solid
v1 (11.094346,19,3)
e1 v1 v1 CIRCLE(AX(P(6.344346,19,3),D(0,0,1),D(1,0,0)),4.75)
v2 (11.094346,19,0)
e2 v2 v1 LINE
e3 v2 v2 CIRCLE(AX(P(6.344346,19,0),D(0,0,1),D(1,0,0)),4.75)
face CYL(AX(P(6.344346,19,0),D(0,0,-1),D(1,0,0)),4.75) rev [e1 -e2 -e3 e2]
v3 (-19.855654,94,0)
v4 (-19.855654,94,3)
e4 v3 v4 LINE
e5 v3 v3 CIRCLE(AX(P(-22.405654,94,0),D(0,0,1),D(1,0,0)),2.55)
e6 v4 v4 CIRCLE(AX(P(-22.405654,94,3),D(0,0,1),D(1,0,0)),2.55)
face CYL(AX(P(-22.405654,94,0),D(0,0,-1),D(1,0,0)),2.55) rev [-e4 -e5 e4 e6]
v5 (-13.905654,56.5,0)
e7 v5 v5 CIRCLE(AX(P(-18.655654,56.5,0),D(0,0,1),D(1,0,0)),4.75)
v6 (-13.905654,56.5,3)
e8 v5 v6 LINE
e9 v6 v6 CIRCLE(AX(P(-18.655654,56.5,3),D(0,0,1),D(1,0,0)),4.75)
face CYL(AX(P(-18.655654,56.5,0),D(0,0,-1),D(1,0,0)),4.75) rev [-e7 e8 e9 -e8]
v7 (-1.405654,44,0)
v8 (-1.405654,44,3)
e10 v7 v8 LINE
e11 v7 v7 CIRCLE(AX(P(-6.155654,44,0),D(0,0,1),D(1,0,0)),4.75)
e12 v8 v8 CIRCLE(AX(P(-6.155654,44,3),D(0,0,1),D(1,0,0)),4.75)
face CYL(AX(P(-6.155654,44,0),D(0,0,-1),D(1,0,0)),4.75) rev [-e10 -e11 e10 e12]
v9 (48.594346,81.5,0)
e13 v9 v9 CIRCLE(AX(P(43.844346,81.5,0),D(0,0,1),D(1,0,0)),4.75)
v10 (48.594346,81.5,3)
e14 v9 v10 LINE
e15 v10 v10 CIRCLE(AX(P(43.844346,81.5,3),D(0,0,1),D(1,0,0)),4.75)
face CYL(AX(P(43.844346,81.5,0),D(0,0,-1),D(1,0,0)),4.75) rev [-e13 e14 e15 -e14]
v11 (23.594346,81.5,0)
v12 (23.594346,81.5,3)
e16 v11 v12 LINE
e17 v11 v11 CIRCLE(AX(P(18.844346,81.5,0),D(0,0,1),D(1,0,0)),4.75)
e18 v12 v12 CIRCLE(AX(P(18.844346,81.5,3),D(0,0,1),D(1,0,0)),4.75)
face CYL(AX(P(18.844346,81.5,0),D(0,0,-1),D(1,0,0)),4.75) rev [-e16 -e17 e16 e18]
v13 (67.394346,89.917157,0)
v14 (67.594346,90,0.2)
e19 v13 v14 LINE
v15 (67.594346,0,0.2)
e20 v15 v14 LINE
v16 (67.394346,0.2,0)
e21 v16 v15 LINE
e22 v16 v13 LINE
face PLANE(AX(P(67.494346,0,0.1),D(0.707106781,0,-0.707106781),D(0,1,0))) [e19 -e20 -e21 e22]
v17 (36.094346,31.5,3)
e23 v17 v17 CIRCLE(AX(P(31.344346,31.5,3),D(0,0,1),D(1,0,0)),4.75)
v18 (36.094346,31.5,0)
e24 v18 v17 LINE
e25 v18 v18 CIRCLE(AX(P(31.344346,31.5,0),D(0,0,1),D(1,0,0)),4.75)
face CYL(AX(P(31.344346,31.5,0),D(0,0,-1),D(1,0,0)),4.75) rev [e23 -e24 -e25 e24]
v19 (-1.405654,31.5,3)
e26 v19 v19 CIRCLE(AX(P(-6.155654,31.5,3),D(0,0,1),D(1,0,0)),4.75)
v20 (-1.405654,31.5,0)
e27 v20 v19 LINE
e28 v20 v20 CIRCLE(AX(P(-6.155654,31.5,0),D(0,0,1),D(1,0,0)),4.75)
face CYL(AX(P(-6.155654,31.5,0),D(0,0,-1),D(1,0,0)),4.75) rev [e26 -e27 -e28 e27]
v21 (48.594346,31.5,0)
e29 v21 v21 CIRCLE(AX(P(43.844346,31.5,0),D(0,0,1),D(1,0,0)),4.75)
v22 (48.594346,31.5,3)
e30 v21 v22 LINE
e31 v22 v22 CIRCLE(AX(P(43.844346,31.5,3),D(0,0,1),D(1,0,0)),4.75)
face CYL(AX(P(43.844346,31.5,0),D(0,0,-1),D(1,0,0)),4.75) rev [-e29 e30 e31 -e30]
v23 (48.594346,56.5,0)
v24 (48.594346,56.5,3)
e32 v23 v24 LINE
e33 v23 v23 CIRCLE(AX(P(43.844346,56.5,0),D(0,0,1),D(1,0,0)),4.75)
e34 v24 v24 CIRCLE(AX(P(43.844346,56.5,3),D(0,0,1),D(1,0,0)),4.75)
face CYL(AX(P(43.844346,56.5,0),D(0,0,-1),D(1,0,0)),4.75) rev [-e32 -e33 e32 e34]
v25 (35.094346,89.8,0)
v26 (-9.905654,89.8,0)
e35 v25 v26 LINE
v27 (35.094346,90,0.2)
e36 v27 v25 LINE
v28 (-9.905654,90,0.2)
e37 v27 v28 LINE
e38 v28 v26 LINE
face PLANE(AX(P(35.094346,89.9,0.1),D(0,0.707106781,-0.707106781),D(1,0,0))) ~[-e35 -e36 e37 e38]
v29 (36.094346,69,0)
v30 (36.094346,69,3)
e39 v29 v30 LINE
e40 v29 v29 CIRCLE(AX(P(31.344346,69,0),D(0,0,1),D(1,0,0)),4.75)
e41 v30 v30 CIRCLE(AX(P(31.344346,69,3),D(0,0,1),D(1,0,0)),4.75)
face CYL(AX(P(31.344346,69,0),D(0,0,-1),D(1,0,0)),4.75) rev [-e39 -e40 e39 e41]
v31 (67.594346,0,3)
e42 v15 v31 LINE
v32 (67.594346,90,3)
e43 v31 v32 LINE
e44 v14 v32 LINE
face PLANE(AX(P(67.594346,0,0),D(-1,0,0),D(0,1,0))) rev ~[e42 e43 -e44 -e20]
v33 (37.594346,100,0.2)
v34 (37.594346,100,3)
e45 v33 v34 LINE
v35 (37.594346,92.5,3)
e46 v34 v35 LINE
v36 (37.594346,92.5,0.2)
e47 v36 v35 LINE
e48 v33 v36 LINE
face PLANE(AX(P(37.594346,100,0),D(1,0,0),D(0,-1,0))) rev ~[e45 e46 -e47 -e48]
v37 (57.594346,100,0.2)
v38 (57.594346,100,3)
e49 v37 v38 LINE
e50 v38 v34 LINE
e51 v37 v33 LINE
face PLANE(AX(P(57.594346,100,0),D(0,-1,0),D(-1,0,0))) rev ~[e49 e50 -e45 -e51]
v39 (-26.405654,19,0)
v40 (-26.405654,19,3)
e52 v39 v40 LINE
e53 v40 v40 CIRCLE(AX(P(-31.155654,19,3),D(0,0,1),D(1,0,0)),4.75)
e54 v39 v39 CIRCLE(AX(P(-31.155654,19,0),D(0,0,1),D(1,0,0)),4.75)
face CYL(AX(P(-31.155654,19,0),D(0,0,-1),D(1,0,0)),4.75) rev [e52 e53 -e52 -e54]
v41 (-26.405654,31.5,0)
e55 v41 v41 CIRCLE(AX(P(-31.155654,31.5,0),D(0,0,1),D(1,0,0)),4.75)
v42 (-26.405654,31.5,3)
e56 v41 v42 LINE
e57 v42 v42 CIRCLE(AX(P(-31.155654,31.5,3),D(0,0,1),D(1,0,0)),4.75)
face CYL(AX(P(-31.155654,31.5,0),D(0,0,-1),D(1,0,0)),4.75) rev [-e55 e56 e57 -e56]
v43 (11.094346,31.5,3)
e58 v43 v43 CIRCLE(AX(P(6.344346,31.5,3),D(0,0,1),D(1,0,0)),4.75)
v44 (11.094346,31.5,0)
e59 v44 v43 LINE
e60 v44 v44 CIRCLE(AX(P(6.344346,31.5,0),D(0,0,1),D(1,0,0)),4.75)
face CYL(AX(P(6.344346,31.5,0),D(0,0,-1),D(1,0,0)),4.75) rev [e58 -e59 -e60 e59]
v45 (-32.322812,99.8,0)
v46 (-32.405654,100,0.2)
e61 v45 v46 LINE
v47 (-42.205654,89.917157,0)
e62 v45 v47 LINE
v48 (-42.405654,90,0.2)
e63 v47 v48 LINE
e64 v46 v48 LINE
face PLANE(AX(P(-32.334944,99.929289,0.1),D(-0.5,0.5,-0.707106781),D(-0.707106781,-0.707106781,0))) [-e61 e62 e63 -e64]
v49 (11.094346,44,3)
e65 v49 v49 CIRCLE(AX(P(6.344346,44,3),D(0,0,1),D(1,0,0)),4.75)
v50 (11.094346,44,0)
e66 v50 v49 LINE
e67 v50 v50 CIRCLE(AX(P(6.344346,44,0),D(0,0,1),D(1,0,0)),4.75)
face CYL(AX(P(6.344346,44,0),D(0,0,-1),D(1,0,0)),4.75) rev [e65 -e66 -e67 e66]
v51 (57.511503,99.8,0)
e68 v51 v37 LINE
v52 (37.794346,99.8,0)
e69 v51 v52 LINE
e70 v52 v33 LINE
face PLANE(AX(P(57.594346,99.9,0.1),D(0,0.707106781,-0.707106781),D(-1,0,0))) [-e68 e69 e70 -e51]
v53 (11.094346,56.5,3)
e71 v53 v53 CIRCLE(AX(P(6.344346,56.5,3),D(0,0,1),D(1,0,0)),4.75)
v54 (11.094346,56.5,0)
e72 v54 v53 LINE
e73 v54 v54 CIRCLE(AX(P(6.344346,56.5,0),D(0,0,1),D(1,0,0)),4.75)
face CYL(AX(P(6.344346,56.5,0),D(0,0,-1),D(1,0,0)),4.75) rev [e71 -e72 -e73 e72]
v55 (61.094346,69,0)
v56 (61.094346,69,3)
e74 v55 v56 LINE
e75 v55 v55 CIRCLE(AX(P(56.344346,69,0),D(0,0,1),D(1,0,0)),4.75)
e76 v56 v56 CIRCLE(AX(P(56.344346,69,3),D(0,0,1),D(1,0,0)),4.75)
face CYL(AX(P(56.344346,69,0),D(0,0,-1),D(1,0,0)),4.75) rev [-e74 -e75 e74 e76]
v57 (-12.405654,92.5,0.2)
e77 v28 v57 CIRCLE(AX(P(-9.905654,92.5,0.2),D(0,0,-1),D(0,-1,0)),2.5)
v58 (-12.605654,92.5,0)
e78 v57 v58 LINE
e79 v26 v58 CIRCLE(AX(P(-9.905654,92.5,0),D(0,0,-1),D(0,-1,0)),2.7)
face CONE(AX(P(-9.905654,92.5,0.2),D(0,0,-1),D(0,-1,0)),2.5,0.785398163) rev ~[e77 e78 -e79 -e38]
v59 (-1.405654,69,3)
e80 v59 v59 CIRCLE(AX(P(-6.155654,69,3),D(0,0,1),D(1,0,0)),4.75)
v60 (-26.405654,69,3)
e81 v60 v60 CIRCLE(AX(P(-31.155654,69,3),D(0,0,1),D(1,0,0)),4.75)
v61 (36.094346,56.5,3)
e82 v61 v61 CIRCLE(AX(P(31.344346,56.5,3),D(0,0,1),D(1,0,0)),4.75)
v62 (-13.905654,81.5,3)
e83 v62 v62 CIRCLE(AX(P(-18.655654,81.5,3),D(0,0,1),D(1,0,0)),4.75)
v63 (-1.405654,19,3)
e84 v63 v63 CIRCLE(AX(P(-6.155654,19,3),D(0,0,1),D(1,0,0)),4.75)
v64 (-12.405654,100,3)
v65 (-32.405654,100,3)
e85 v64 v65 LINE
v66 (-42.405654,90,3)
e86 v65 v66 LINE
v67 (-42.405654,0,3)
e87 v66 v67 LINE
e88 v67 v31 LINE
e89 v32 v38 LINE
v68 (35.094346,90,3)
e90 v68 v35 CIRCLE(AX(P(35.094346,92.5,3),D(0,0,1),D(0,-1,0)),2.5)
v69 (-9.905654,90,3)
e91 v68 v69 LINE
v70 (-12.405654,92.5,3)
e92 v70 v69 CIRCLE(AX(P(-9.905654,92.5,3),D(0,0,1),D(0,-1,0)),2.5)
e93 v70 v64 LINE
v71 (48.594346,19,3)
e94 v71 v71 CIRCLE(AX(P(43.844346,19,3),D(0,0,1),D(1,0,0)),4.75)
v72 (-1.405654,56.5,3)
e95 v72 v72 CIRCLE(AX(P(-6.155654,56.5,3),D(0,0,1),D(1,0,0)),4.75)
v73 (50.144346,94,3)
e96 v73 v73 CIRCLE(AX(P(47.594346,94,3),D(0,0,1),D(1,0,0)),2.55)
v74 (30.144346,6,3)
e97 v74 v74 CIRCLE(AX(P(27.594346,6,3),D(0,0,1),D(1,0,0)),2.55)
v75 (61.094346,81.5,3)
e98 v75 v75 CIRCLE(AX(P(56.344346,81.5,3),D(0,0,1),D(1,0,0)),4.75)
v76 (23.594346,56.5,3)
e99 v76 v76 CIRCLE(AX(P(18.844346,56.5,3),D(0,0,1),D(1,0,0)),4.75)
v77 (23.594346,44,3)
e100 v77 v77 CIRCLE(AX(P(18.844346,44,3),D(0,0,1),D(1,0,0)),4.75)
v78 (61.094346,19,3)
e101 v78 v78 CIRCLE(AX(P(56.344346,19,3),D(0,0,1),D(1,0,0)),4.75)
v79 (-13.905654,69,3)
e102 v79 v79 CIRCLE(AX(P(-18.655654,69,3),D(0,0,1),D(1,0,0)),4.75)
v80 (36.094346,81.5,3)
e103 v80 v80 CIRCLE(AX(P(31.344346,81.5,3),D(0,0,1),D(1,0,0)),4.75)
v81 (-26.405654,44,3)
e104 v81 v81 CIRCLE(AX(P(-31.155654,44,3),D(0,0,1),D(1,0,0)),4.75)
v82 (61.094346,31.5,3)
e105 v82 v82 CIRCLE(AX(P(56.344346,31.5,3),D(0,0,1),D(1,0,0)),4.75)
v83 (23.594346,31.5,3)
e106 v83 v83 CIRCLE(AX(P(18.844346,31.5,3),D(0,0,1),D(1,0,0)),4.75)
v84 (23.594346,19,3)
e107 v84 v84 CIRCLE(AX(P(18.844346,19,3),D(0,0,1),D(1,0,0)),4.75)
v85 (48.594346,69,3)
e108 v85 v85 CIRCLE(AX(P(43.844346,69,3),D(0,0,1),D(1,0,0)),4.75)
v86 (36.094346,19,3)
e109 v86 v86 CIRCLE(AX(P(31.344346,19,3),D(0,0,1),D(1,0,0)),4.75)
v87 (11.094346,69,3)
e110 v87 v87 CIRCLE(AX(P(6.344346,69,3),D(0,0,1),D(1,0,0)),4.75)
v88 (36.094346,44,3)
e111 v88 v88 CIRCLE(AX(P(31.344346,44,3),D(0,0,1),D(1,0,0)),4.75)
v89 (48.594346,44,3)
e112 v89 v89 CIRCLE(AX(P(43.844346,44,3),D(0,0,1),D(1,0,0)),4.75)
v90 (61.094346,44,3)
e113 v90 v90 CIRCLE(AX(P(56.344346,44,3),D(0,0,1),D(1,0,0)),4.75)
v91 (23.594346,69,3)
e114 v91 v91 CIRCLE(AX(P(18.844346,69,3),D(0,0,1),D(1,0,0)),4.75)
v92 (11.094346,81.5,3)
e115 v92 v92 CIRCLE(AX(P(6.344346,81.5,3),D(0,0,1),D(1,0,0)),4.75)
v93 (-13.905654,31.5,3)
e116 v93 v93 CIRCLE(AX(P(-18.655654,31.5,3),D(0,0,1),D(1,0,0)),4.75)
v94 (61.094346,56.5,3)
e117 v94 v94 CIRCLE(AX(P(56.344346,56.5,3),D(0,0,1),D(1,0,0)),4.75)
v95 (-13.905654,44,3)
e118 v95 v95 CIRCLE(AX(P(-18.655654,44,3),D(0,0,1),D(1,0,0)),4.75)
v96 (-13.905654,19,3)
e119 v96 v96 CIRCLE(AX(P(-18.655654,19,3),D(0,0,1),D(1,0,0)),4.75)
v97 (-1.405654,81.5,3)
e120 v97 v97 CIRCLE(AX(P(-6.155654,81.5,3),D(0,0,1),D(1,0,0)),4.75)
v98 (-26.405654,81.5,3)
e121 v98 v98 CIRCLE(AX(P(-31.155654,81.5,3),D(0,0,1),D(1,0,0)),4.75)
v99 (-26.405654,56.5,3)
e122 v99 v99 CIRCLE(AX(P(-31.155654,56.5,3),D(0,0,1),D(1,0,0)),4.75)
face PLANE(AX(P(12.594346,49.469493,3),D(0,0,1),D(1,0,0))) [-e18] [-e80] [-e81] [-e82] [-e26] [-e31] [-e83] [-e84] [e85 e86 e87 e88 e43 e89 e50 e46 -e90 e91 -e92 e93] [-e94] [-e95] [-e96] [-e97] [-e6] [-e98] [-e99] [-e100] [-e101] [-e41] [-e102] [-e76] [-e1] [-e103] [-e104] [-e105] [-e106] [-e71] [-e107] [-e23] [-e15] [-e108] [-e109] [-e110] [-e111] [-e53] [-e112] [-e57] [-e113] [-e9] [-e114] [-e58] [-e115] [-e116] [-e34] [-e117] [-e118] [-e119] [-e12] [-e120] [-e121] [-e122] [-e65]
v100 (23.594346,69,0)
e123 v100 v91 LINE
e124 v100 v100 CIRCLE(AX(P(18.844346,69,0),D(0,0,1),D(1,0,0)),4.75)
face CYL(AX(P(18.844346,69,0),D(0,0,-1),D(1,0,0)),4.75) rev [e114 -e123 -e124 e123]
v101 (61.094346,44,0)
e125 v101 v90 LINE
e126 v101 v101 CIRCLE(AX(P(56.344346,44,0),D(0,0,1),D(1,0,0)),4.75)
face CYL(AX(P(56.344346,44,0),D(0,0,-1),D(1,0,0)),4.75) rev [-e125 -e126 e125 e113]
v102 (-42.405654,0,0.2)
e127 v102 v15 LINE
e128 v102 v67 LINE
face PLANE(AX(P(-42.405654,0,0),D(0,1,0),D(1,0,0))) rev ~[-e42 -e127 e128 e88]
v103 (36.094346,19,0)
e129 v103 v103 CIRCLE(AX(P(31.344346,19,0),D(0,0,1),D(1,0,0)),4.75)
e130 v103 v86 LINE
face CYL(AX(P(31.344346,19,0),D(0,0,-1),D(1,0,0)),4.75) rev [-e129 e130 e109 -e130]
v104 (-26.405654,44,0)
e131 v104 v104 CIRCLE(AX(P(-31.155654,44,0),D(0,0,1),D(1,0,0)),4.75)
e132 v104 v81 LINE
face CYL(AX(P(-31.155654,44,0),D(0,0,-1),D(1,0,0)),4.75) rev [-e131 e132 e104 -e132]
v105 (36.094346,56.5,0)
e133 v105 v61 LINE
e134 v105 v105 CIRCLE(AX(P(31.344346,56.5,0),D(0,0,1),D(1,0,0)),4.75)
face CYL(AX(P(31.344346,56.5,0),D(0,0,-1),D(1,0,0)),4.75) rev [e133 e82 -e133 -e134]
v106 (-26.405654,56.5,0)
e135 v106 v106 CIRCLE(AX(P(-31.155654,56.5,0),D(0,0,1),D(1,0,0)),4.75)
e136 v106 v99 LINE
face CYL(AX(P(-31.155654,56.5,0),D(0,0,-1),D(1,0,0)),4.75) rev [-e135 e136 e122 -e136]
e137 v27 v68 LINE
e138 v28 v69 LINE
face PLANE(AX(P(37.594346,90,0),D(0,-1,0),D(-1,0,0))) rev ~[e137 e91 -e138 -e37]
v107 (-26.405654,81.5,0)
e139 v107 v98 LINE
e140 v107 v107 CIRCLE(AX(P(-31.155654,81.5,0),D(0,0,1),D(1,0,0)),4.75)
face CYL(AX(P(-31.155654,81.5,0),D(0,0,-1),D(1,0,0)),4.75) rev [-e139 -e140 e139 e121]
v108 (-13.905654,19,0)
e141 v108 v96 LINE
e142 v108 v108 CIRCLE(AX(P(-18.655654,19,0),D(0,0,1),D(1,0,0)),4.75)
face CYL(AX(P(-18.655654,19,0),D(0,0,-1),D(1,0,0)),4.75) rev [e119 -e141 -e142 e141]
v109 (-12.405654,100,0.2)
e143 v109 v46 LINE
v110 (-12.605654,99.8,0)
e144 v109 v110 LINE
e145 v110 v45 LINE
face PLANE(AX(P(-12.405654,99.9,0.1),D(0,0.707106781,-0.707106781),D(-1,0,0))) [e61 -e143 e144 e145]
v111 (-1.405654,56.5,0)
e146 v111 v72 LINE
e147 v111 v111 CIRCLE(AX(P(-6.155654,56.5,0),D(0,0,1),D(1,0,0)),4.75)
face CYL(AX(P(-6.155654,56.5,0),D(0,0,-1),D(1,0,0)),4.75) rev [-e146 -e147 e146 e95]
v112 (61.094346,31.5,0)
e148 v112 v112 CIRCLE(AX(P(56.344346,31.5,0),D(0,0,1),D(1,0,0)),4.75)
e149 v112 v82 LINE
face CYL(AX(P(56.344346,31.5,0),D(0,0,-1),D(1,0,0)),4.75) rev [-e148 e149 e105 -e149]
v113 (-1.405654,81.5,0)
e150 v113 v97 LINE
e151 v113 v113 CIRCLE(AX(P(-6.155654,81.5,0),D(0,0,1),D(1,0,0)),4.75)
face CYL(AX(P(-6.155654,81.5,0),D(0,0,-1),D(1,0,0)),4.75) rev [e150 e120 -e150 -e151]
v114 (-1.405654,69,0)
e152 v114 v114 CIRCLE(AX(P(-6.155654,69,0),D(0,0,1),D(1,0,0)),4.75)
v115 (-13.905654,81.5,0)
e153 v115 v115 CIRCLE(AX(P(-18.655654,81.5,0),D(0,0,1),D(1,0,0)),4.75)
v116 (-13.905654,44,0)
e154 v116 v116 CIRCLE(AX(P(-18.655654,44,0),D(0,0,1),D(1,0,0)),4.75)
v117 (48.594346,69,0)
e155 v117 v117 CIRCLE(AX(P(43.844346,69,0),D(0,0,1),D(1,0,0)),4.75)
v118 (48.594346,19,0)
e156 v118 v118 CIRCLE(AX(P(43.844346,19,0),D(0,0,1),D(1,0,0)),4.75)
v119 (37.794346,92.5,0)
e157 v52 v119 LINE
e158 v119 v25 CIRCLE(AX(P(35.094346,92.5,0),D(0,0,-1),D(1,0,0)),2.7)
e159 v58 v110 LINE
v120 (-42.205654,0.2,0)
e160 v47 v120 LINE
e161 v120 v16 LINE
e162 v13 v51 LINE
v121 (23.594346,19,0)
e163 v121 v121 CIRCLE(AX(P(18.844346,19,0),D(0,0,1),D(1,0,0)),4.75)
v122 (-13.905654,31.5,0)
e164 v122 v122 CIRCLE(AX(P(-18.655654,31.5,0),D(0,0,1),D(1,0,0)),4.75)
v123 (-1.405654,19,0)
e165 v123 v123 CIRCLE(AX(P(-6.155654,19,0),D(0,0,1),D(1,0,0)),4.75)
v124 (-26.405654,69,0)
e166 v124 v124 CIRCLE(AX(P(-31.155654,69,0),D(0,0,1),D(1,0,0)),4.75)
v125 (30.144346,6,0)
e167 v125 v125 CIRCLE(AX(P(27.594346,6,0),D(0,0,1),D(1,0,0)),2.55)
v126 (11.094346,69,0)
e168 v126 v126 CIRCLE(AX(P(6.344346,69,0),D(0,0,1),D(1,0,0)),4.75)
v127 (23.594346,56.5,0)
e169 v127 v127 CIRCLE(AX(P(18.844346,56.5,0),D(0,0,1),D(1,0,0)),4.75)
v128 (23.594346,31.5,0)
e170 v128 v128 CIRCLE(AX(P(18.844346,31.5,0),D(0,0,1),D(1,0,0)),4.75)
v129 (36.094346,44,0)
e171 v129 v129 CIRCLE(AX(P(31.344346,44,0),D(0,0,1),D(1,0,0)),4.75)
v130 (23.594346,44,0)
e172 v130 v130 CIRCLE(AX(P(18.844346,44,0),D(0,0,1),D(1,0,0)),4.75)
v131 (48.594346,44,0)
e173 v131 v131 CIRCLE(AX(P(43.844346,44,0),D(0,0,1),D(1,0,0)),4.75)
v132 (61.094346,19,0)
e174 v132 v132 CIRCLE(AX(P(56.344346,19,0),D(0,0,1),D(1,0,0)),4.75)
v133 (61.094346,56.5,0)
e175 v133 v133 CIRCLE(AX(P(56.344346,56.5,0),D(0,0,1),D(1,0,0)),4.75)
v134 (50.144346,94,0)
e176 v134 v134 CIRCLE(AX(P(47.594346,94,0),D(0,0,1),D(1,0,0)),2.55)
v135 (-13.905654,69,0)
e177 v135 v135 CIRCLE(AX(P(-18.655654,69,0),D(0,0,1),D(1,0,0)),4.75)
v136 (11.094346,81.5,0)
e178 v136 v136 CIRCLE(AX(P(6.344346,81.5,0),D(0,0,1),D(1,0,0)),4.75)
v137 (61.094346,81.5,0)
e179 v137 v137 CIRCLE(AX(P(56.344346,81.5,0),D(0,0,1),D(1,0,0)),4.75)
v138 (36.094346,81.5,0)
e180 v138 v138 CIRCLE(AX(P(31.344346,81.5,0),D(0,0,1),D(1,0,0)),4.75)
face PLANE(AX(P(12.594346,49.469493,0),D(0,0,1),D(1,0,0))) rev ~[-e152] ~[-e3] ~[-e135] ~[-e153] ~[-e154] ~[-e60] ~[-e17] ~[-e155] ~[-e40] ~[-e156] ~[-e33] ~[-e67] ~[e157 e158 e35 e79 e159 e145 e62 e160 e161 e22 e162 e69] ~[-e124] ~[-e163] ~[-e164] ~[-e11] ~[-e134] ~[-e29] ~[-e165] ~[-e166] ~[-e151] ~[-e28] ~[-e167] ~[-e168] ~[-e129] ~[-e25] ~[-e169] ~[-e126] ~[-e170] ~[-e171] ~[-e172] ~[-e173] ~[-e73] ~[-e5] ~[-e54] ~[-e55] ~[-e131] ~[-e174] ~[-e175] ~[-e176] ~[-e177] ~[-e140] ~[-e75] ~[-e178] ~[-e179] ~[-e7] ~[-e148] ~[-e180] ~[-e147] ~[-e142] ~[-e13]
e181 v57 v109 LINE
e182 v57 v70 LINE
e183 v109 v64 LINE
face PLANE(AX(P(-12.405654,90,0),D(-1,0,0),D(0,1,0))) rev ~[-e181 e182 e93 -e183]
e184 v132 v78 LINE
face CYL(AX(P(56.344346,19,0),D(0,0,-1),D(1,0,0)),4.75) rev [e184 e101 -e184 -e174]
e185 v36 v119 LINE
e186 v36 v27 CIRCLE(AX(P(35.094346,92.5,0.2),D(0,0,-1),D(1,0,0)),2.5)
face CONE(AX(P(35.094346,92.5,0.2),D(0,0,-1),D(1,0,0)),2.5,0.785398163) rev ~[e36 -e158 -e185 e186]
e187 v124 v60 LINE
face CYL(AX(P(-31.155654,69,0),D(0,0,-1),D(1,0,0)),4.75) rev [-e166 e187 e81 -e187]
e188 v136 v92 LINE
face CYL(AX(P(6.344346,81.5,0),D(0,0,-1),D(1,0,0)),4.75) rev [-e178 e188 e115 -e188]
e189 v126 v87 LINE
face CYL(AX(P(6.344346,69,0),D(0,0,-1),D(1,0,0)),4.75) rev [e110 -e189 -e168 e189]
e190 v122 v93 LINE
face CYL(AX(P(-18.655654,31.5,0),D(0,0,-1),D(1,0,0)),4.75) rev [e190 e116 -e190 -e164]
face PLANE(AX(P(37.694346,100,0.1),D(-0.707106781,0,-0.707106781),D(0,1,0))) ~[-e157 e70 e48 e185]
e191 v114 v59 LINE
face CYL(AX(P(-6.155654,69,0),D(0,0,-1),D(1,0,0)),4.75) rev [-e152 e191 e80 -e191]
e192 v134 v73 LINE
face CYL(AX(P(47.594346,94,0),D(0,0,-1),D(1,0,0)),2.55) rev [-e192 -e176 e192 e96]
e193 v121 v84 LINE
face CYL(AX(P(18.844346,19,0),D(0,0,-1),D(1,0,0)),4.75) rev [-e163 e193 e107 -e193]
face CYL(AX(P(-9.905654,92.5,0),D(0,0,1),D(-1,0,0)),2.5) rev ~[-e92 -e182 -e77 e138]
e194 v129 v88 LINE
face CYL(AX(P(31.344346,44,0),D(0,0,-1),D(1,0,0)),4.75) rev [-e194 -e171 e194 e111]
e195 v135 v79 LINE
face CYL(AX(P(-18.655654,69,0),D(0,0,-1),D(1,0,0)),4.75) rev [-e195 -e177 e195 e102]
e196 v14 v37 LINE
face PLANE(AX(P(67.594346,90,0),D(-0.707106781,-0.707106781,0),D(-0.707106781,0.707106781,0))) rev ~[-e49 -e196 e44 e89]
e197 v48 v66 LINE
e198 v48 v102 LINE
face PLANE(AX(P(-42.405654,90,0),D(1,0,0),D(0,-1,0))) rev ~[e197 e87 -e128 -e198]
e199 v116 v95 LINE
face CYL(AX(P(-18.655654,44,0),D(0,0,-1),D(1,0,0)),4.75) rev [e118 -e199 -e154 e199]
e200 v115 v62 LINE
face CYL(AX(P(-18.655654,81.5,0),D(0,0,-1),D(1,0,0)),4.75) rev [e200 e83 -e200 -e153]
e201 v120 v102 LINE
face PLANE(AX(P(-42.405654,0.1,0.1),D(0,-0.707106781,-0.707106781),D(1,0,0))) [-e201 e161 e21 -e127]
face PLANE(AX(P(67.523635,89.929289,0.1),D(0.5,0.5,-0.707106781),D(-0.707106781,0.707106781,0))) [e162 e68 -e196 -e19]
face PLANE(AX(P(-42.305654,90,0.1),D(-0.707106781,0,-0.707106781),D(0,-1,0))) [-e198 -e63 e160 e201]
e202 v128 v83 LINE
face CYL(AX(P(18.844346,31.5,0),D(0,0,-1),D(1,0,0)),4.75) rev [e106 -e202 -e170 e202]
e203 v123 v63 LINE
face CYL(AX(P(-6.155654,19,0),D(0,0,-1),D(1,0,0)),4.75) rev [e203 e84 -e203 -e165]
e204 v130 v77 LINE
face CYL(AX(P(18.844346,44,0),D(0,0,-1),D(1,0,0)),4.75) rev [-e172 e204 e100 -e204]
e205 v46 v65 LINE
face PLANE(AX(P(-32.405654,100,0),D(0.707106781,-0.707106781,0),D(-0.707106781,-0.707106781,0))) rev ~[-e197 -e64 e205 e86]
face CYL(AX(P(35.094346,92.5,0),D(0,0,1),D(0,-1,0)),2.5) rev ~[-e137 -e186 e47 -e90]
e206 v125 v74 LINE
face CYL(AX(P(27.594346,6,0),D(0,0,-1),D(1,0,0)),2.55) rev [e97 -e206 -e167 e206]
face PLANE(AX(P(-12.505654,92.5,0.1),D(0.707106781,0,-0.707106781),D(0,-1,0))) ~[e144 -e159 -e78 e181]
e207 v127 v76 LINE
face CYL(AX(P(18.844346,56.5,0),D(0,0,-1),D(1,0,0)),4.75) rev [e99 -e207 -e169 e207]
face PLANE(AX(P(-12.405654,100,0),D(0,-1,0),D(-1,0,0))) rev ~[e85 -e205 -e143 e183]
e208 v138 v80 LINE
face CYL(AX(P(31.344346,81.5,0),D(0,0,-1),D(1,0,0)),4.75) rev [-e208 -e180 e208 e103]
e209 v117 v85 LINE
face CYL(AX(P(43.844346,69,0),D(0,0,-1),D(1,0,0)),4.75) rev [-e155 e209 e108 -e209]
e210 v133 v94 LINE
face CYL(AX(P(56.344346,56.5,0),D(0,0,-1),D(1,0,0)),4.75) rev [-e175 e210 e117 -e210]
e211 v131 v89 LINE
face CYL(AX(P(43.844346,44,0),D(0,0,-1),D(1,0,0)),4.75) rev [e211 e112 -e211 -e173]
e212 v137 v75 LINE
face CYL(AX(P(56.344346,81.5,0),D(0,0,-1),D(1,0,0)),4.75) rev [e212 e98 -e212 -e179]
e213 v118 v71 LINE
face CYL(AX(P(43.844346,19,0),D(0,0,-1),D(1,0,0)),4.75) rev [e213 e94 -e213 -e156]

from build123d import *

# Parameters (mm, degrees)
F0_R     = 4.75
F0_R_2   = 2.55
F1_DEPTH = 3
F2_R     = 2.5
F3_SIZE  = 0.2


with BuildPart() as f1:
    # F0 (on Top) → F1 (new body)
    with BuildSketch(Plane.XY):
        Polygon((-42.4056542814, 90), (-42.4056542814, 0), (67.5943457186, 0), (67.5943457186, 90), (57.5943457186, 100), (37.5943457186, 100), (37.5943457186, 90), (-12.4056542814, 90), (-12.4056542814, 100), (-32.4056542814, 100), align=None)
        with Locations((-31.1556542814, 19)):
            Circle(F0_R, mode=Mode.SUBTRACT)
        with Locations((-18.6556542814, 19)):
            Circle(F0_R, mode=Mode.SUBTRACT)
        with Locations((-6.1556542814, 19)):
            Circle(F0_R, mode=Mode.SUBTRACT)
        with Locations((6.3443457186, 19)):
            Circle(F0_R, mode=Mode.SUBTRACT)
        with Locations((-31.1556542814, 31.5)):
            Circle(F0_R, mode=Mode.SUBTRACT)
        with Locations((-18.6556542814, 31.5)):
            Circle(F0_R, mode=Mode.SUBTRACT)
        with Locations((-31.1556542814, 44)):
            Circle(F0_R, mode=Mode.SUBTRACT)
        with Locations((-18.6556542814, 44)):
            Circle(F0_R, mode=Mode.SUBTRACT)
        with Locations((-6.1556542814, 31.5)):
            Circle(F0_R, mode=Mode.SUBTRACT)
        with Locations((6.3443457186, 31.5)):
            Circle(F0_R, mode=Mode.SUBTRACT)
        with Locations((-6.1556542814, 44)):
            Circle(F0_R, mode=Mode.SUBTRACT)
        with Locations((6.3443457186, 44)):
            Circle(F0_R, mode=Mode.SUBTRACT)
        with Locations((27.5943457186, 6)):
            Circle(F0_R_2, mode=Mode.SUBTRACT)
        with Locations((18.8443457186, 19)):
            Circle(F0_R, mode=Mode.SUBTRACT)
        with Locations((31.3443457186, 19)):
            Circle(F0_R, mode=Mode.SUBTRACT)
        with Locations((43.8443457186, 19)):
            Circle(F0_R, mode=Mode.SUBTRACT)
        with Locations((56.3443457186, 19)):
            Circle(F0_R, mode=Mode.SUBTRACT)
        with Locations((18.8443457186, 31.5)):
            Circle(F0_R, mode=Mode.SUBTRACT)
        with Locations((31.3443457186, 31.5)):
            Circle(F0_R, mode=Mode.SUBTRACT)
        with Locations((18.8443457186, 44)):
            Circle(F0_R, mode=Mode.SUBTRACT)
        with Locations((31.3443457186, 44)):
            Circle(F0_R, mode=Mode.SUBTRACT)
        with Locations((43.8443457186, 31.5)):
            Circle(F0_R, mode=Mode.SUBTRACT)
        with Locations((56.3443457186, 31.5)):
            Circle(F0_R, mode=Mode.SUBTRACT)
        with Locations((43.8443457186, 44)):
            Circle(F0_R, mode=Mode.SUBTRACT)
        with Locations((56.3443457186, 44)):
            Circle(F0_R, mode=Mode.SUBTRACT)
        with Locations((-31.1556542814, 56.5)):
            Circle(F0_R, mode=Mode.SUBTRACT)
        with Locations((-18.6556542814, 56.5)):
            Circle(F0_R, mode=Mode.SUBTRACT)
        with Locations((-31.1556542814, 69)):
            Circle(F0_R, mode=Mode.SUBTRACT)
        with Locations((-18.6556542814, 69)):
            Circle(F0_R, mode=Mode.SUBTRACT)
        with Locations((-6.1556542814, 56.5)):
            Circle(F0_R, mode=Mode.SUBTRACT)
        with Locations((6.3443457186, 56.5)):
            Circle(F0_R, mode=Mode.SUBTRACT)
        with Locations((-6.1556542814, 69)):
            Circle(F0_R, mode=Mode.SUBTRACT)
        with Locations((6.3443457186, 69)):
            Circle(F0_R, mode=Mode.SUBTRACT)
        with Locations((-31.1556542814, 81.5)):
            Circle(F0_R, mode=Mode.SUBTRACT)
        with Locations((-18.6556542814, 81.5)):
            Circle(F0_R, mode=Mode.SUBTRACT)
        with Locations((-22.4056542814, 94)):
            Circle(F0_R_2, mode=Mode.SUBTRACT)
        with Locations((-6.1556542814, 81.5)):
            Circle(F0_R, mode=Mode.SUBTRACT)
        with Locations((6.3443457186, 81.5)):
            Circle(F0_R, mode=Mode.SUBTRACT)
        with Locations((18.8443457186, 56.5)):
            Circle(F0_R, mode=Mode.SUBTRACT)
        with Locations((31.3443457186, 56.5)):
            Circle(F0_R, mode=Mode.SUBTRACT)
        with Locations((18.8443457186, 69)):
            Circle(F0_R, mode=Mode.SUBTRACT)
        with Locations((31.3443457186, 69)):
            Circle(F0_R, mode=Mode.SUBTRACT)
        with Locations((43.8443457186, 56.5)):
            Circle(F0_R, mode=Mode.SUBTRACT)
        with Locations((56.3443457186, 56.5)):
            Circle(F0_R, mode=Mode.SUBTRACT)
        with Locations((43.8443457186, 69)):
            Circle(F0_R, mode=Mode.SUBTRACT)
        with Locations((56.3443457186, 69)):
            Circle(F0_R, mode=Mode.SUBTRACT)
        with Locations((18.8443457186, 81.5)):
            Circle(F0_R, mode=Mode.SUBTRACT)
        with Locations((31.3443457186, 81.5)):
            Circle(F0_R, mode=Mode.SUBTRACT)
        with Locations((43.8443457186, 81.5)):
            Circle(F0_R, mode=Mode.SUBTRACT)
        with Locations((56.3443457186, 81.5)):
            Circle(F0_R, mode=Mode.SUBTRACT)
        with Locations((47.5943457186, 94)):
            Circle(F0_R_2, mode=Mode.SUBTRACT)
    extrude(amount=F1_DEPTH)

    # F2
    f2_edges = [f1.edges().sort_by_distance(p)[0] for p in [
        (-12.405654, 90, 1.5),
        (37.594346, 90, 1.5),
    ]]
    fillet(f2_edges, radius=F2_R)

    # F3
    f3_edges = [f1.edges().sort_by_distance(p)[0] for p in [
        (12.594346, 0, 0),
        (67.594346, 45, 0),
        (-42.405654, 45, 0),
        (62.594346, 95, 0),
        (47.594346, 100, 0),
        (-12.405654, 96.25, 0),
        (-22.405654, 100, 0),
        (-37.405654, 95, 0),
        (-11.673421, 90.732233, 0),
        (36.862113, 90.732233, 0),
        (37.594346, 96.25, 0),
        (12.594346, 90, 0),
    ]]
    chamfer(f3_edges, length=F3_SIZE)


solid = f1.part
